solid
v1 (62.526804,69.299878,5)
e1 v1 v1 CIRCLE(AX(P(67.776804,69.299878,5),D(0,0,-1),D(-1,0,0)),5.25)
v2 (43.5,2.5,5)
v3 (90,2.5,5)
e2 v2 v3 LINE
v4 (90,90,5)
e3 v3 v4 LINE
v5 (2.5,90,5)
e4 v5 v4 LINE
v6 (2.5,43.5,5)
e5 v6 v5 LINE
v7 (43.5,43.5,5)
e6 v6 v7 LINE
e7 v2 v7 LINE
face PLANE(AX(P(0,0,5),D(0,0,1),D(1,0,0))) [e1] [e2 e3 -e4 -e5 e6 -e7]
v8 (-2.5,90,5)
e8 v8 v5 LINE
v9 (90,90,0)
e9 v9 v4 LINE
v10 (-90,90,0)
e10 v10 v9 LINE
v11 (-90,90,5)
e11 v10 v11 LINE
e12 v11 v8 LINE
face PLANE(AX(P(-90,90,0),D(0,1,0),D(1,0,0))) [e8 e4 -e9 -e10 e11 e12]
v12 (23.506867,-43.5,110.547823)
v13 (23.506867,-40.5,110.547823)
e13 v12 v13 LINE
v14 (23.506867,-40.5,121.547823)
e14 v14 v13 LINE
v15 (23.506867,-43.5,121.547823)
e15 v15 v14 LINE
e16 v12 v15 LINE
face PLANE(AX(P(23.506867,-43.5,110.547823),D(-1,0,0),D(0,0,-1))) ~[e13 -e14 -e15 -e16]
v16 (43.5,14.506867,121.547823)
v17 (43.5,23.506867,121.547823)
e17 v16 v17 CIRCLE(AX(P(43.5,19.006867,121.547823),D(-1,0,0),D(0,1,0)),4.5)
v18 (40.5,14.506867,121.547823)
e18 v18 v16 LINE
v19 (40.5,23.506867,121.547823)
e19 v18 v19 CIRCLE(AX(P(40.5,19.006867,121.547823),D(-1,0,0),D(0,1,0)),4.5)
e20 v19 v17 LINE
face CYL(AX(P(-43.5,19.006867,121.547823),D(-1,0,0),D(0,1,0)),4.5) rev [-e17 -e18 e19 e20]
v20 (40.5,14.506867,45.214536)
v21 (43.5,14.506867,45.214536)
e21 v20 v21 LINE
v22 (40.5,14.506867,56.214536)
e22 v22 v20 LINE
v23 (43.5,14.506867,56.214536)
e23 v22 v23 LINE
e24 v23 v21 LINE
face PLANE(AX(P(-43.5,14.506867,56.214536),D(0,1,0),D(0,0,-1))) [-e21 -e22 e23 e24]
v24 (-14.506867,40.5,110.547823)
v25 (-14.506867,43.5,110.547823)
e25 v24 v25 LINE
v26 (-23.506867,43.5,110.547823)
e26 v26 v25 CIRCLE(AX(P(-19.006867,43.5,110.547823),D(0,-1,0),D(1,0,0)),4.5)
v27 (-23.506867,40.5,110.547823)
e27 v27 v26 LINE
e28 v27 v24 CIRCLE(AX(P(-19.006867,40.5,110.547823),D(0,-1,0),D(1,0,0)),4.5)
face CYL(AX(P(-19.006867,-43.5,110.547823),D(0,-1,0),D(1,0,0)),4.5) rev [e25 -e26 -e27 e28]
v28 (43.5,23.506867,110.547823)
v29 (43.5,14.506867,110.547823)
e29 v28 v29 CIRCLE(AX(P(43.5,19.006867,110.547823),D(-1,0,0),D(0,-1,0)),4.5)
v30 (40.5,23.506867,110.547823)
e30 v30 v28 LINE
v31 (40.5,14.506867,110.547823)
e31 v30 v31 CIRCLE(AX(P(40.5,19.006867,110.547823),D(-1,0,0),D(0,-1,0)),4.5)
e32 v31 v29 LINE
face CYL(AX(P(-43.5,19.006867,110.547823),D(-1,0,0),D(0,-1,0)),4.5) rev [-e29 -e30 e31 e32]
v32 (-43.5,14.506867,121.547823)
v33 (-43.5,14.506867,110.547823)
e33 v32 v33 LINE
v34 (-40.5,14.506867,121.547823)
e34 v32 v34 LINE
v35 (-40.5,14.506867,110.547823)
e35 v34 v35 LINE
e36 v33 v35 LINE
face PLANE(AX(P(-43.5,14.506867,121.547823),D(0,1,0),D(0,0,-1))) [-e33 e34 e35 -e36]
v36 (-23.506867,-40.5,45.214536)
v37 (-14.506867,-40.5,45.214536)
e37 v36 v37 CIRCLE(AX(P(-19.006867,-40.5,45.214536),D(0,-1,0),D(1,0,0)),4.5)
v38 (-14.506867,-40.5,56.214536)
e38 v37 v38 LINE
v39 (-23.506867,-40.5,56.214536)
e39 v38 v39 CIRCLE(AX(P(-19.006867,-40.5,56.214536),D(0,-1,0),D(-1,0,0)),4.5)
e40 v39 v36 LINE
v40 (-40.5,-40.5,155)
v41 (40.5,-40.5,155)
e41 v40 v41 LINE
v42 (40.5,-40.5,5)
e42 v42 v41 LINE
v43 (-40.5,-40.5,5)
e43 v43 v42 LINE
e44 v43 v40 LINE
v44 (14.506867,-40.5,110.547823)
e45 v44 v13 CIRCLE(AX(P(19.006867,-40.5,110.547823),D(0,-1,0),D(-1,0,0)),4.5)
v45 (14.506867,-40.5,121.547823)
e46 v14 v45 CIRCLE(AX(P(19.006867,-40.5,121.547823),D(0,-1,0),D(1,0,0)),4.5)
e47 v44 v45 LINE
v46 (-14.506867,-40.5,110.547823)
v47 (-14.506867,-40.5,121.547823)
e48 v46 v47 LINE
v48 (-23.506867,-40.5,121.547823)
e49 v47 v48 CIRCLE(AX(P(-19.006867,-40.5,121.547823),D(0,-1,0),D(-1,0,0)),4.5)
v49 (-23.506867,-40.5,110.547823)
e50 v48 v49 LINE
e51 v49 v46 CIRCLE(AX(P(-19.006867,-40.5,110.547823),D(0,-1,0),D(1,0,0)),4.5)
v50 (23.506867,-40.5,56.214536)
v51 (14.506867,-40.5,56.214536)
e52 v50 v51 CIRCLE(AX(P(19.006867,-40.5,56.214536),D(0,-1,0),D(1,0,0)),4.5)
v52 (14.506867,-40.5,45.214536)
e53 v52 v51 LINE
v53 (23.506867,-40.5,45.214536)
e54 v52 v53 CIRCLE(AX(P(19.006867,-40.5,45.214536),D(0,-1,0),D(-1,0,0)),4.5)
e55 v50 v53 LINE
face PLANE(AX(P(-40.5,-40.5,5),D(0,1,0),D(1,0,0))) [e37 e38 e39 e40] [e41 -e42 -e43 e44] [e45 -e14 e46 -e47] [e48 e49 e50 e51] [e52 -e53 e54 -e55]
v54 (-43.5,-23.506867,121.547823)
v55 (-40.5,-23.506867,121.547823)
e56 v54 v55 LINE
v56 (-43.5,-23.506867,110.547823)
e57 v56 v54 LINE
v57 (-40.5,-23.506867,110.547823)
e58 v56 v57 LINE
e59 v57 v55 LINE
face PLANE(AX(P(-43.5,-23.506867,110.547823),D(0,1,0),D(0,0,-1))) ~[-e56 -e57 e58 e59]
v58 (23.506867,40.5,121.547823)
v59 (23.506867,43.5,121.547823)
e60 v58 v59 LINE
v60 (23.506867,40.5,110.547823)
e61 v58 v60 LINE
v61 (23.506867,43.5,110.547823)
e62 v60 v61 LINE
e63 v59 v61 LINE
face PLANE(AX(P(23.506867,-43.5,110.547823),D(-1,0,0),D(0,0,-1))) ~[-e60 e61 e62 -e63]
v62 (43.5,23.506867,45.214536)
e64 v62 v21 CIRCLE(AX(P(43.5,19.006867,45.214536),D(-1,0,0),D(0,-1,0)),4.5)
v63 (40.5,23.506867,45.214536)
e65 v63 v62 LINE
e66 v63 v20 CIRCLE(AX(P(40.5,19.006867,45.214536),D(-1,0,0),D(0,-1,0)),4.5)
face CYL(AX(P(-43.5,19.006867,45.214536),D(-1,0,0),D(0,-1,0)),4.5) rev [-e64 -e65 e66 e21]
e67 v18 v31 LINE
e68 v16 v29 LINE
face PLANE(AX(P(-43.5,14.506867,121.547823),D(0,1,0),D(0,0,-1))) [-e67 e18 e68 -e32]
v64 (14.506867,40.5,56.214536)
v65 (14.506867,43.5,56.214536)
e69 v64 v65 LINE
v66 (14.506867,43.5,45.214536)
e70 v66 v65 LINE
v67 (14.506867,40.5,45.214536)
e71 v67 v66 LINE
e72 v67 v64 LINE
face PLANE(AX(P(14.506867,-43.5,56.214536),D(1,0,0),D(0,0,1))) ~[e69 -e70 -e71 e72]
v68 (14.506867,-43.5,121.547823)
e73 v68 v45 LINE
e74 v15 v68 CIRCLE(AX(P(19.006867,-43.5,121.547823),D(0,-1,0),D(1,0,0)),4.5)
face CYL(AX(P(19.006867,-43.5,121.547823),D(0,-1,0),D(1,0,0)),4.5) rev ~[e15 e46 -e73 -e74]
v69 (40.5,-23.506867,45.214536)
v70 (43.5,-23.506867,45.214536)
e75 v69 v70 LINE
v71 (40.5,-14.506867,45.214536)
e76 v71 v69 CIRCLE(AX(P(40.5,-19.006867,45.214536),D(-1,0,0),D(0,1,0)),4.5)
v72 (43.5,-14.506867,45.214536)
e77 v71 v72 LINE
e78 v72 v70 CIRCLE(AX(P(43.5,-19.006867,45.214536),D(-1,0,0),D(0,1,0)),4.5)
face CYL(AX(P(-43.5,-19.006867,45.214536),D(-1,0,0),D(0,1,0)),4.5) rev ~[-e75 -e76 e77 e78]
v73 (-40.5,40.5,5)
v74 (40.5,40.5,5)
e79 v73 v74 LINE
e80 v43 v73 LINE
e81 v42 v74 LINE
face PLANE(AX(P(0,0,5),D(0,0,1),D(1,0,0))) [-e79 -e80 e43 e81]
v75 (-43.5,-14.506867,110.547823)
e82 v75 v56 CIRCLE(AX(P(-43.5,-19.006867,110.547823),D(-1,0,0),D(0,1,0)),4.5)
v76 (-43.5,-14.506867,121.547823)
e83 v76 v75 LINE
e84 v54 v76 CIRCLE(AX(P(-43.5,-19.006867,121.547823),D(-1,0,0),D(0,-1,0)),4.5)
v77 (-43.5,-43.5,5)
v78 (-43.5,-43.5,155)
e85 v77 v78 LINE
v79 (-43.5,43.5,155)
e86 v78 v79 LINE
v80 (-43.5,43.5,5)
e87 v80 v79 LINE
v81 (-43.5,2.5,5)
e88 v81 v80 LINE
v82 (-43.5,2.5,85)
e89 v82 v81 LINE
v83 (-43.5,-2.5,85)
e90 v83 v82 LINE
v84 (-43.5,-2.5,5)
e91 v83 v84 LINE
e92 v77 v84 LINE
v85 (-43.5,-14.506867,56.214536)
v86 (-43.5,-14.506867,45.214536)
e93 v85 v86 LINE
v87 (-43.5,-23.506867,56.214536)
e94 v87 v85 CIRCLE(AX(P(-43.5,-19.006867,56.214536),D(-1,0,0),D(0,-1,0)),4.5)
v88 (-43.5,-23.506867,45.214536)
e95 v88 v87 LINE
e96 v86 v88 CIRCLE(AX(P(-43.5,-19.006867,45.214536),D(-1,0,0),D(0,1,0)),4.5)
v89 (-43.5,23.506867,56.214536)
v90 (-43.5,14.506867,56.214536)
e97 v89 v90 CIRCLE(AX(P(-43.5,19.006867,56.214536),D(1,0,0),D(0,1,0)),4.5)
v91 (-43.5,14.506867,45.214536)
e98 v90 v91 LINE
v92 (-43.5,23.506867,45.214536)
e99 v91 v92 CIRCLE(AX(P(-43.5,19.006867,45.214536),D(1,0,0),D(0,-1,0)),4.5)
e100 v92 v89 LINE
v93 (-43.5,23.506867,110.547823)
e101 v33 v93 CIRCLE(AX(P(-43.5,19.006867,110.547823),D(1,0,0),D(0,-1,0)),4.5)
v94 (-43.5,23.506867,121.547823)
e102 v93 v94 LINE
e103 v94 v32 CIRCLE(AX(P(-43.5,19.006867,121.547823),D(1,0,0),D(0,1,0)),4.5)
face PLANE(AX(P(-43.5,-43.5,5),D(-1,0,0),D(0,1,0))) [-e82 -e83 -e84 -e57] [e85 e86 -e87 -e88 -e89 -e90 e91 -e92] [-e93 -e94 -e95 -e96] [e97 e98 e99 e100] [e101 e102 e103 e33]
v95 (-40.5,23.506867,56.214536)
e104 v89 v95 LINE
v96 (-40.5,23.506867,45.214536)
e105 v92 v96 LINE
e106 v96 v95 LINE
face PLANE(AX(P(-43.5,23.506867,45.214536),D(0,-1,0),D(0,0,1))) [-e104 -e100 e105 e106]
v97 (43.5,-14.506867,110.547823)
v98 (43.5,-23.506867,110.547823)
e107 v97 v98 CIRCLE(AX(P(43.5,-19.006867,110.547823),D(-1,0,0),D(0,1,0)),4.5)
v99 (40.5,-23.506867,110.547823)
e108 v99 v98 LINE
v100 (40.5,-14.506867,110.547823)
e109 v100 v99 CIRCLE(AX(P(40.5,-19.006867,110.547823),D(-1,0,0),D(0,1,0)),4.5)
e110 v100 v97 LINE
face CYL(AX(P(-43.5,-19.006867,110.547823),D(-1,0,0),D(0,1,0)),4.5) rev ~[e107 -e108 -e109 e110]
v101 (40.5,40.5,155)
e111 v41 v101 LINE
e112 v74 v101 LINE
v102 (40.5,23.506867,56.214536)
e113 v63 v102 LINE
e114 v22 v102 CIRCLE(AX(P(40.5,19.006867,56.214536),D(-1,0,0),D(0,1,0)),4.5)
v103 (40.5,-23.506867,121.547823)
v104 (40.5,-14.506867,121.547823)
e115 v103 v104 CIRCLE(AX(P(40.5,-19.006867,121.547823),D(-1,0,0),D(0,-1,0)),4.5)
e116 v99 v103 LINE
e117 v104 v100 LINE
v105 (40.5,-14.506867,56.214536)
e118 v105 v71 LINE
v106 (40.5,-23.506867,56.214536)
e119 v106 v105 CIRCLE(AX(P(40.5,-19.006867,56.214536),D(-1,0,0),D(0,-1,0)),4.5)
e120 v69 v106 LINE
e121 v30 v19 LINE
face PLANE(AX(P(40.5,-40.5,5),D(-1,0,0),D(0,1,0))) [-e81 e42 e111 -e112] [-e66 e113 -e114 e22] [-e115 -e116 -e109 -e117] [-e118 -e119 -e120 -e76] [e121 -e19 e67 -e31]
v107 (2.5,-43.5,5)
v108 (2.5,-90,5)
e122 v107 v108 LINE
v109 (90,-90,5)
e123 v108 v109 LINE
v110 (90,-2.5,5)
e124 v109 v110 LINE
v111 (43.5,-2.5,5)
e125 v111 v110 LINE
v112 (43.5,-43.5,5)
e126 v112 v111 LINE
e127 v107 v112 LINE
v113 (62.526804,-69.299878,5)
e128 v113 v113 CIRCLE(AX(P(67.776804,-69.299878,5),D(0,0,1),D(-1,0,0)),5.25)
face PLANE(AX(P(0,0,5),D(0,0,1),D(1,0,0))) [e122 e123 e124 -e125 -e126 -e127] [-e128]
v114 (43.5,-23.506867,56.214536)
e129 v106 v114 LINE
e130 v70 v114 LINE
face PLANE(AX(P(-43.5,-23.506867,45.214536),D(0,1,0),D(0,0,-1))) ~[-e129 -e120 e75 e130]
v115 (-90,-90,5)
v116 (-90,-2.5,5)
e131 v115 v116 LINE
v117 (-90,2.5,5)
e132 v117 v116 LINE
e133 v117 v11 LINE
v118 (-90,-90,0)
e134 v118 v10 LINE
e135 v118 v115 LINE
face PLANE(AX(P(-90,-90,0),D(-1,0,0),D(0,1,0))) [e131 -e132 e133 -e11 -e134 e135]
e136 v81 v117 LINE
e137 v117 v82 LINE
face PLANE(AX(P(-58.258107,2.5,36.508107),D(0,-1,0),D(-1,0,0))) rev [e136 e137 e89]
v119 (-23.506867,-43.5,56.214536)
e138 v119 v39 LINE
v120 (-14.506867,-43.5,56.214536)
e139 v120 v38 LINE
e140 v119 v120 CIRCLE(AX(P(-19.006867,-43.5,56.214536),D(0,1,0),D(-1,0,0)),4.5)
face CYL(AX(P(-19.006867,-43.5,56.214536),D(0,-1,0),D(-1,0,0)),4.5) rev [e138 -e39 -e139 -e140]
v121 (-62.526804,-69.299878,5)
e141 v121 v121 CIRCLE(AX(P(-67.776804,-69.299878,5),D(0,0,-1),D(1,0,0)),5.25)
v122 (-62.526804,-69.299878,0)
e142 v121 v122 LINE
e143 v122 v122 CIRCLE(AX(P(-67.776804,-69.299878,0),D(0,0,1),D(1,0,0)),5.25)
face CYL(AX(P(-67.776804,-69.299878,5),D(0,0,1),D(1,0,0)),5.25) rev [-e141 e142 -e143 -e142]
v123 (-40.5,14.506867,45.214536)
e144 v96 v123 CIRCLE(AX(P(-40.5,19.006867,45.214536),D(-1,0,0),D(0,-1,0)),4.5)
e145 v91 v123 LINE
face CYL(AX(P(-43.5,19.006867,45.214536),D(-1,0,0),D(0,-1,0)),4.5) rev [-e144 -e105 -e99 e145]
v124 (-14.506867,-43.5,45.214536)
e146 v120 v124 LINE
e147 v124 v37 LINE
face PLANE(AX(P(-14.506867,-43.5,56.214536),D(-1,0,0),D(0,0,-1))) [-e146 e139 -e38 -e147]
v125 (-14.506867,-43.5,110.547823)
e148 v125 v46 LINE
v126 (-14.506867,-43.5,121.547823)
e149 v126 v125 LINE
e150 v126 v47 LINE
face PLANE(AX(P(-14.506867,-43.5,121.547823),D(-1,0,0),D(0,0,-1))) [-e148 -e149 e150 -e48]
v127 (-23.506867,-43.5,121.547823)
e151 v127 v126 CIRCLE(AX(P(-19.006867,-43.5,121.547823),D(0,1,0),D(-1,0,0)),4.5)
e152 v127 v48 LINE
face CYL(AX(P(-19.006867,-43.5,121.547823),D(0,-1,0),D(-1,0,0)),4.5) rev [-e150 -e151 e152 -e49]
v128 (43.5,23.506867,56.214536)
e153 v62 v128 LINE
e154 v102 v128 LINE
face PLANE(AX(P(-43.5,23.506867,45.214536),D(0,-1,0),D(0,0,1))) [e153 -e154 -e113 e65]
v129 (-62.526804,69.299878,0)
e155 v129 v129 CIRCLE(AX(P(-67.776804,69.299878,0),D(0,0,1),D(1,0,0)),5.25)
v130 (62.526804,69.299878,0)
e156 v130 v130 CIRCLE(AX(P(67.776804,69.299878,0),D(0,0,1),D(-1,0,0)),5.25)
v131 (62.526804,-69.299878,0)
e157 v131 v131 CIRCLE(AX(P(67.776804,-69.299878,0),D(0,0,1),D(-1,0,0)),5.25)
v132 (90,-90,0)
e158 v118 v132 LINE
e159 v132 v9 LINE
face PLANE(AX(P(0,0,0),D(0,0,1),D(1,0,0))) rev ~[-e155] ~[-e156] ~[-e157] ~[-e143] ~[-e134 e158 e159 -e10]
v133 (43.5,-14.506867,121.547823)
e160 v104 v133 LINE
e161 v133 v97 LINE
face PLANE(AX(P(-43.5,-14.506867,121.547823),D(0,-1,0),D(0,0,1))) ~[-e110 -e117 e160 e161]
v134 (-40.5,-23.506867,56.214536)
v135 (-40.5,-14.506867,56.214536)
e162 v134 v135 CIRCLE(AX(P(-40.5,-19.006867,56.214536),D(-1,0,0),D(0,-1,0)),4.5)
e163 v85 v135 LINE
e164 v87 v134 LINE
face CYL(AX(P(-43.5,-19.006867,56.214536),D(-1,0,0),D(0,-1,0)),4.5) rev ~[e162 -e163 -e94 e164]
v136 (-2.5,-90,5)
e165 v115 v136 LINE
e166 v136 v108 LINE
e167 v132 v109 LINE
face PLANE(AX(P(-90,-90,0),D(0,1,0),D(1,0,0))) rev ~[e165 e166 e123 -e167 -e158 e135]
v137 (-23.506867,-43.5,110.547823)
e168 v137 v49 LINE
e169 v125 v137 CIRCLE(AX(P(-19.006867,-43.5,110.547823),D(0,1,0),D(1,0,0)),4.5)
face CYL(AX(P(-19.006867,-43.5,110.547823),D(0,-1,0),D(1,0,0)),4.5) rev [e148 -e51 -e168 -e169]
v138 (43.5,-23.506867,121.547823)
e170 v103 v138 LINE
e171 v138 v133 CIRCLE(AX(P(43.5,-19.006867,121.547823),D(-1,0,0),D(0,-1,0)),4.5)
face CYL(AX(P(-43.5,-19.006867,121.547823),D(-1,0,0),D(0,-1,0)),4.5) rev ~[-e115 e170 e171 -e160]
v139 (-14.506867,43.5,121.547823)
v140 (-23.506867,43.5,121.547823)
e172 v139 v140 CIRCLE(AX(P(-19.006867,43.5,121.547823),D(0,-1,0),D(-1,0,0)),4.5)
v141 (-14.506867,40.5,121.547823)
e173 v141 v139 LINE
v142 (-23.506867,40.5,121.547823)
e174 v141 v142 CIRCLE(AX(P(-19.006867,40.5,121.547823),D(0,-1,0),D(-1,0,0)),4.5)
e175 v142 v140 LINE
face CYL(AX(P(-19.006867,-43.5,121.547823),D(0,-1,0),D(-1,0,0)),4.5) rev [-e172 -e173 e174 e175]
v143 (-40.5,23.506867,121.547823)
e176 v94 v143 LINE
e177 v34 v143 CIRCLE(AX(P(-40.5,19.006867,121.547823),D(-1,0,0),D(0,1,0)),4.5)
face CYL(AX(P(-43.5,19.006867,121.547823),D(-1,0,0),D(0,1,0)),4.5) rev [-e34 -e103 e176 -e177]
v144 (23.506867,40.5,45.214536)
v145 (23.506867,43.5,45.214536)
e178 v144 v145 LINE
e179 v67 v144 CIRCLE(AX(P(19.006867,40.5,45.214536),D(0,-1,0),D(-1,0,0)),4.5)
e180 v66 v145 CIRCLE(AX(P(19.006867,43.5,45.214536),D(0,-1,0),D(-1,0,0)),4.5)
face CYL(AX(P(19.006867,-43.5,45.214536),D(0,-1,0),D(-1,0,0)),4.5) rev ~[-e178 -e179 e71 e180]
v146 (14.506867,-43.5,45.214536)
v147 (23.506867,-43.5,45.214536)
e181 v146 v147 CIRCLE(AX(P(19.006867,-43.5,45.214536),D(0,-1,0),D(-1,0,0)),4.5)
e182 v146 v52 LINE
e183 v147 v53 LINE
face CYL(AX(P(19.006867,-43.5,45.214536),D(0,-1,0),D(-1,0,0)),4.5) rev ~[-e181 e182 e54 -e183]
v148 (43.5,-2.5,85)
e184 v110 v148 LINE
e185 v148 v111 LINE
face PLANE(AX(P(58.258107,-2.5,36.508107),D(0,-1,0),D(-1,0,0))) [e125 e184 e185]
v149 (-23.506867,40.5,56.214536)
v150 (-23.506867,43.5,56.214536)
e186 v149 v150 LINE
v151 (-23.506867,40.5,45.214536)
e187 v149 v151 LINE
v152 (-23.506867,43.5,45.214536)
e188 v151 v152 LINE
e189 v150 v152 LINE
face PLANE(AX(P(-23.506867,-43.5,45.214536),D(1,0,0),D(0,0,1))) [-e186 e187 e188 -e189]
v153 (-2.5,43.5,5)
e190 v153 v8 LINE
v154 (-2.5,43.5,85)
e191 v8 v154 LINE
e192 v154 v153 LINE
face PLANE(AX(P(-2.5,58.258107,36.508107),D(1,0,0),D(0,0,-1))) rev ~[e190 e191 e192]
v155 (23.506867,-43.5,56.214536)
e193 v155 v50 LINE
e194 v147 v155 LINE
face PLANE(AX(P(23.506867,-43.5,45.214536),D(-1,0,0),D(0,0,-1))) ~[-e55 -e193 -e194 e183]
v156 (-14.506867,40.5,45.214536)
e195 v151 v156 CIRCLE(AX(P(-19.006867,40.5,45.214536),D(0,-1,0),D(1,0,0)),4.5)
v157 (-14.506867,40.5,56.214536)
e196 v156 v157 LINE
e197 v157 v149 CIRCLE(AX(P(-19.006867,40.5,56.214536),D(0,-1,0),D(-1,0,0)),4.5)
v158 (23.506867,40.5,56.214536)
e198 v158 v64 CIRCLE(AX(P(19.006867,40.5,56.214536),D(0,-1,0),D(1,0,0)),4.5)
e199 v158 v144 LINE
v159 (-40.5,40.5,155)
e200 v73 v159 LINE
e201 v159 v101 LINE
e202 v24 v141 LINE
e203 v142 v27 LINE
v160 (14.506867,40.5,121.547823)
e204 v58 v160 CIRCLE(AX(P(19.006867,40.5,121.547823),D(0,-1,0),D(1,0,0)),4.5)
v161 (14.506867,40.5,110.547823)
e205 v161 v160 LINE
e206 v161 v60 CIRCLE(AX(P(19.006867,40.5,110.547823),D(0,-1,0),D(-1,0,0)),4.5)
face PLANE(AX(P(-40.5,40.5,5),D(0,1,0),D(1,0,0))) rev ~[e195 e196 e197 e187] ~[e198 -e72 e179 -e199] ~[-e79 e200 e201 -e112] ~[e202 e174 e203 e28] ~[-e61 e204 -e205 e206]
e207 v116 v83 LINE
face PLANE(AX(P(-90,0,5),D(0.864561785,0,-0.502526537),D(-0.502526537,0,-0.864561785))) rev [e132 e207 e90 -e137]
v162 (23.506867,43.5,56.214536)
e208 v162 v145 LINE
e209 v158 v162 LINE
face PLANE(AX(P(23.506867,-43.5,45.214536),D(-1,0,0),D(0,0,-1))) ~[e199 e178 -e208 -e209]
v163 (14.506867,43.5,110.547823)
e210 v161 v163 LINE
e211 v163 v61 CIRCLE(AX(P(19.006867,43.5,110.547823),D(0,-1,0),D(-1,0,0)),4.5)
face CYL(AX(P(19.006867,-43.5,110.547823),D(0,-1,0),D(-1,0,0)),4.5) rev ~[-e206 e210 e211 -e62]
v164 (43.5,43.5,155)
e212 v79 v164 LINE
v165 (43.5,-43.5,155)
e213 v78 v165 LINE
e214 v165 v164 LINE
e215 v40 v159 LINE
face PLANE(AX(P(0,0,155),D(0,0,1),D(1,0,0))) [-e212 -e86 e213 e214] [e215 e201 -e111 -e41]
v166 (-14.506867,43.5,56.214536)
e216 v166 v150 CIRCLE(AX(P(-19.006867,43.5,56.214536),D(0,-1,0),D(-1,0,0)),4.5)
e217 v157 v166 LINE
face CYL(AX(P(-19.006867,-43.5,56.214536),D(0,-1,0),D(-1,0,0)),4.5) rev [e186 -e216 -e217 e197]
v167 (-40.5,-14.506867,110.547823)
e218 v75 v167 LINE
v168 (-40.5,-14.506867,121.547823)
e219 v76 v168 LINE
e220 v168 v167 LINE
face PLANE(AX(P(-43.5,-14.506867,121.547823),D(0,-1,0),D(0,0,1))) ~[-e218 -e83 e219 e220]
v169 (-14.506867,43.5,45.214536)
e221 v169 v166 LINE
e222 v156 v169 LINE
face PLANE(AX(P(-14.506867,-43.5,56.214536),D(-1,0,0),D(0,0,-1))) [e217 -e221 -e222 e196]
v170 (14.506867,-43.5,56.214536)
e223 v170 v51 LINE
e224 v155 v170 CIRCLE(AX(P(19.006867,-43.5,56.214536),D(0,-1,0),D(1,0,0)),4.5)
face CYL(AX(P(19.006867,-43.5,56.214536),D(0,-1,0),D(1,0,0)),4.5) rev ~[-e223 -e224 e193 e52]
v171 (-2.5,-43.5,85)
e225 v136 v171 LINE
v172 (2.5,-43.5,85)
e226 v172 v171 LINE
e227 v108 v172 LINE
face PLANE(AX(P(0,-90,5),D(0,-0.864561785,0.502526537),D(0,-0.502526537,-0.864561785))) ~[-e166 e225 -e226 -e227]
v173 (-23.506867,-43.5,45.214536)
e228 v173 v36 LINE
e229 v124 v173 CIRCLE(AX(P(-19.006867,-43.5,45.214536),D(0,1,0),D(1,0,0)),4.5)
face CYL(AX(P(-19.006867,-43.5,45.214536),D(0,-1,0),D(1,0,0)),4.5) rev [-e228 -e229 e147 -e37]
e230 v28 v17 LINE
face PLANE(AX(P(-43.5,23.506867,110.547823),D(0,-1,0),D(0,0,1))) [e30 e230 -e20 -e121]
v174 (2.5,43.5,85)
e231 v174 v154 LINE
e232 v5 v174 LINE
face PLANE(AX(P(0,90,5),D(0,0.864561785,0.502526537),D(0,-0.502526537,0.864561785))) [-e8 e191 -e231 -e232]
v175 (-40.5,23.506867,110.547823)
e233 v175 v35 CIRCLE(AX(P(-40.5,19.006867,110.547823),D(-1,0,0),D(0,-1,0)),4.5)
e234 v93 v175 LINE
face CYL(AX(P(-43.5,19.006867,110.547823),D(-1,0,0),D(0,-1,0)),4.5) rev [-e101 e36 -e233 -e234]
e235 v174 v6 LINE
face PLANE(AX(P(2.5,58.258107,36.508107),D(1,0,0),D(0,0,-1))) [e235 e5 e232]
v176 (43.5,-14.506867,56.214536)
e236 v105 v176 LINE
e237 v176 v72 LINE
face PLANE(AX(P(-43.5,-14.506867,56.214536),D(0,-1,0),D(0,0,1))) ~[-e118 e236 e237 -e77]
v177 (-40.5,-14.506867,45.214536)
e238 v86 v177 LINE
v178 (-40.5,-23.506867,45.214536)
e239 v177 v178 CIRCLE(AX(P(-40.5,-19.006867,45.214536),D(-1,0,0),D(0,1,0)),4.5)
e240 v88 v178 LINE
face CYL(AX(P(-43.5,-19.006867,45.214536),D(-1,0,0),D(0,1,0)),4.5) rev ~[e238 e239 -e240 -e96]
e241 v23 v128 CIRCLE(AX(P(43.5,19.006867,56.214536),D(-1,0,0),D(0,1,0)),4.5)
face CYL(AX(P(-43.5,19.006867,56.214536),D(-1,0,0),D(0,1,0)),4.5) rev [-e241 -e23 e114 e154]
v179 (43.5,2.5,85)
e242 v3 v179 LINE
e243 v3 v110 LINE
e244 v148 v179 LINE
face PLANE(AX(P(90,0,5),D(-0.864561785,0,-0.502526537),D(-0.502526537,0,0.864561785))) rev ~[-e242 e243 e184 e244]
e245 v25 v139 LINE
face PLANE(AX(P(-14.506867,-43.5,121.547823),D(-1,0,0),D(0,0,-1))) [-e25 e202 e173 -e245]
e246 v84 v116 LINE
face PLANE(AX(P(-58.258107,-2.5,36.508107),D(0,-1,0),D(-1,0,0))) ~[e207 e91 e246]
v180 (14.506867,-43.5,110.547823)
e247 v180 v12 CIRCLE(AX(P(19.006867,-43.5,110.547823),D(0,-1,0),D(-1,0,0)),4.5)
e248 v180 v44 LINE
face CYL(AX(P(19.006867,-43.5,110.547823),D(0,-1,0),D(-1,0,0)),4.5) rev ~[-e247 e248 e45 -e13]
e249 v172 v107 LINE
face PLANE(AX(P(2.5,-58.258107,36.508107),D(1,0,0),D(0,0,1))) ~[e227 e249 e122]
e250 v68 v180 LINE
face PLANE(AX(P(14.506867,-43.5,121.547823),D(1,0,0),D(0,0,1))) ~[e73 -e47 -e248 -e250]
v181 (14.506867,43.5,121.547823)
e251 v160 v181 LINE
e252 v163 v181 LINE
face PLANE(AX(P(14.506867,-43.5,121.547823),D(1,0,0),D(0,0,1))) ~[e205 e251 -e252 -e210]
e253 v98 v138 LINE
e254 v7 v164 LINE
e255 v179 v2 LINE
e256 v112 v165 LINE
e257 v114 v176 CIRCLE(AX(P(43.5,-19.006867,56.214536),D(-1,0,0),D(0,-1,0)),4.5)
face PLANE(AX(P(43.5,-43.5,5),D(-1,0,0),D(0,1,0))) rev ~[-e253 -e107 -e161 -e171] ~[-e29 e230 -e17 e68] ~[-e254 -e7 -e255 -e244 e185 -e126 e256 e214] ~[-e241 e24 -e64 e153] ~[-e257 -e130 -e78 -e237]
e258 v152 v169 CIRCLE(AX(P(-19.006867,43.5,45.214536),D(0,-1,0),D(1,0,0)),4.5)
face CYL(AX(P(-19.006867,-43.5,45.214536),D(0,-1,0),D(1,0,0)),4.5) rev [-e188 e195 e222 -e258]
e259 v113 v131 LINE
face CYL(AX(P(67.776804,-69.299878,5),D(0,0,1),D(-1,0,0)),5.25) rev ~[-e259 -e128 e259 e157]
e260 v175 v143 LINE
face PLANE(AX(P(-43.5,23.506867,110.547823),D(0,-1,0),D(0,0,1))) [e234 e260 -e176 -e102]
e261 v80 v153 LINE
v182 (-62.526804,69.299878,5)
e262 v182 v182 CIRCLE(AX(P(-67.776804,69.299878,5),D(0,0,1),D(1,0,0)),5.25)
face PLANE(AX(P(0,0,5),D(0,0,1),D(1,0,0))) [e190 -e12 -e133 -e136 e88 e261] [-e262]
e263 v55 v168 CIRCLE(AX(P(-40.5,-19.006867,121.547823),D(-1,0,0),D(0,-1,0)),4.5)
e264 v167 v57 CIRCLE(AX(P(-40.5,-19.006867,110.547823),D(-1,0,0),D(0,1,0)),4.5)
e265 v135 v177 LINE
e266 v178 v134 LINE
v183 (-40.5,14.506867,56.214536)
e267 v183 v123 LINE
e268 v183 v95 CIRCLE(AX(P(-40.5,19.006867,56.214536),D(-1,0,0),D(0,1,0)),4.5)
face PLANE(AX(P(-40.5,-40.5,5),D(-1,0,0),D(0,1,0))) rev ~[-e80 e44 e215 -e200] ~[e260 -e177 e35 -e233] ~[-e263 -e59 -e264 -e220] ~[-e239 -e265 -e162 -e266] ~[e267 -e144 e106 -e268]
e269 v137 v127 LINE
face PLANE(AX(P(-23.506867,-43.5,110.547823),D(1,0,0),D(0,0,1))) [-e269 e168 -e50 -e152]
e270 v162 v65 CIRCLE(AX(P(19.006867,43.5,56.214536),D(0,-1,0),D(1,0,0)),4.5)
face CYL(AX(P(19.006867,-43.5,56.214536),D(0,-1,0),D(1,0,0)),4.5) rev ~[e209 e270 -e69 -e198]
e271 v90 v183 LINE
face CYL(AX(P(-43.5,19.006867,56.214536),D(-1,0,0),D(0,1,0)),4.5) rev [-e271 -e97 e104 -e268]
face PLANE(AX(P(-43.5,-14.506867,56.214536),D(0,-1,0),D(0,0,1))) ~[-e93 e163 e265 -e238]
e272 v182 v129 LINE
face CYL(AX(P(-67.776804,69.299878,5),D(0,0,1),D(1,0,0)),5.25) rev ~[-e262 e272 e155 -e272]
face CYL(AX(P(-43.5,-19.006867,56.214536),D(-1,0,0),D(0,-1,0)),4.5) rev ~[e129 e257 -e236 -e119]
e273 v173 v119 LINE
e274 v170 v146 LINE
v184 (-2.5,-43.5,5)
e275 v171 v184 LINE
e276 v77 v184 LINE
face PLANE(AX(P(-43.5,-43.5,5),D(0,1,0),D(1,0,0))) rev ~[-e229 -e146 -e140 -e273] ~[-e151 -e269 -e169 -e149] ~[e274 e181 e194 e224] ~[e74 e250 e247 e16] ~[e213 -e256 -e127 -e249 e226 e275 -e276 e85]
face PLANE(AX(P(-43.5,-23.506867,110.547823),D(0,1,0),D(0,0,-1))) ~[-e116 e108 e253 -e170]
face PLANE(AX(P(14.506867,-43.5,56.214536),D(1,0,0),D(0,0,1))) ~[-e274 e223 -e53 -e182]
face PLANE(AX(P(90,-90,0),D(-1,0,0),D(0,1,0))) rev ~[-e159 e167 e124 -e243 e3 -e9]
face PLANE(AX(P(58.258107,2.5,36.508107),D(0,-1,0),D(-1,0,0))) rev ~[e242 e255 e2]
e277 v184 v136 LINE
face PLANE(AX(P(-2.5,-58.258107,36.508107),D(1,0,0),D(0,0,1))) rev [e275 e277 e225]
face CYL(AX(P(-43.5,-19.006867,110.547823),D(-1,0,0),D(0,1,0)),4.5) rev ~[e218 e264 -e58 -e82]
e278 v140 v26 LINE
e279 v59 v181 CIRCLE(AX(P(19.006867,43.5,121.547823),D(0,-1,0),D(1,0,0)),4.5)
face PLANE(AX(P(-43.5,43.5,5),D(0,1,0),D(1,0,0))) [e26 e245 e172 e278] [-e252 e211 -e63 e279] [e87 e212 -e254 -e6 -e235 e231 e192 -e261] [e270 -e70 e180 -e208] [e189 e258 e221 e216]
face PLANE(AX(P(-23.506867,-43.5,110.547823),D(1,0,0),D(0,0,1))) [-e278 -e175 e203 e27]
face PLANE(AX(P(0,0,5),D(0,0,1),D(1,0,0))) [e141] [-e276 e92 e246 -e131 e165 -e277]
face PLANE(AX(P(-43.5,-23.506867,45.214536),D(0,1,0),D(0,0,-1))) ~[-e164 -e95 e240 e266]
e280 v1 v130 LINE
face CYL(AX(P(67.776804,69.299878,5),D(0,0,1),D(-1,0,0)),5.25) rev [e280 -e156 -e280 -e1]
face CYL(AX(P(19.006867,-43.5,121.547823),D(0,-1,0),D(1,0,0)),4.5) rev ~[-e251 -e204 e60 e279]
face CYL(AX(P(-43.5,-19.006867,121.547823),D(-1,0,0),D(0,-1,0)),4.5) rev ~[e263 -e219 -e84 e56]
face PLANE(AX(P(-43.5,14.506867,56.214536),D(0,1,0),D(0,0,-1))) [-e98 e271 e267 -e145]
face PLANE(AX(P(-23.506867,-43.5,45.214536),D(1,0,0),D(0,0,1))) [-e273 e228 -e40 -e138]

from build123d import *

# Parameters (mm, degrees)
SKETCH_1_W               = 180
SKETCH_1_H               = 180
EXTRUDE_1_DEPTH          = 5
SKETCH_2_R               = 5.25
CUT_EXTRUDE_1_DEPTH      = 128.377392029
MIRROR_2_COPY_1_SKETCH_R = 5.25
MIRROR_2_COPY_1_DEPTH    = 128.377392029
SKETCH_3_W               = 87
SKETCH_3_H               = 87
SKETCH_3_W_2             = 81
SKETCH_3_H_2             = 81
EXTRUDE_2_DEPTH          = 150
EXTRUDE_3_DEPTH          = 2.5
EXTRUDE_4_DEPTH          = 2.5
CUT_EXTRUDE_2_DEPTH      = 224.488814038
MIRROR_6_COPY_1_DEPTH    = 224.488814038


with BuildPart() as part:
    # 草图1 → 凸台-拉伸1 (new body)
    with BuildSketch(Plane.XY):
        Rectangle(SKETCH_1_W, SKETCH_1_H)
    extrude(amount=EXTRUDE_1_DEPTH)

    # 草图2 → 切除-拉伸1 (cut, through all)
    with BuildSketch(Plane.XY.offset(5)):
        with Locations((-67.776804162, 69.299878413)):
            Circle(SKETCH_2_R)
    cut_extrude_1 = extrude(amount=-CUT_EXTRUDE_1_DEPTH, mode=Mode.SUBTRACT)

    # 镜向1: 切除-拉伸1 across plane
    add(cut_extrude_1.mirror(Plane.ZX), mode=Mode.SUBTRACT)

    # 镜向2: 切除-拉伸1 across plane
    add(cut_extrude_1.mirror(Plane(origin=(0, 0, 0), x_dir=(0, 0, 1), z_dir=(1, 0, 0))), mode=Mode.SUBTRACT)

    # 镜向2 copy 1 sketch → 镜向2 copy 1 (cut, through all)
    with BuildSketch(Plane(origin=(0, 0, 5), x_dir=(-1, 0, 0), z_dir=(0, 0, 1))):
        with Locations((-67.776804162, 69.299878413)):
            Circle(MIRROR_2_COPY_1_SKETCH_R)
    extrude(amount=-MIRROR_2_COPY_1_DEPTH, mode=Mode.SUBTRACT)

    # 草图3 → 凸台-拉伸2 (add)
    with BuildSketch(Plane.XY.offset(5)):
        Rectangle(SKETCH_3_W, SKETCH_3_H)
        Rectangle(SKETCH_3_W_2, SKETCH_3_H_2, mode=Mode.SUBTRACT)
    extrude(amount=EXTRUDE_2_DEPTH)

    # 草图4 → 凸台-拉伸3 (add, symmetric)
    with BuildSketch(Plane(origin=(0, 0, 0), x_dir=(1, 0, 0), z_dir=(0, 1, 0))):
        Polygon((43.5, -5), (90, -5), (43.5, -85), align=None)
    extrude_3 = extrude(amount=EXTRUDE_3_DEPTH, both=True)

    # 镜向3: 凸台-拉伸3 across plane
    add(extrude_3.mirror(Plane(origin=(0, 0, 0), x_dir=(0, 0, 1), z_dir=(1, 0, 0))))

    # 草图5 → 凸台-拉伸4 (add, symmetric)
    with BuildSketch(Plane(origin=(0, 0, 0), x_dir=(0, 0, -1), z_dir=(1, 0, 0))):
        Polygon((-5, 43.5), (-5, 90), (-85, 43.5), align=None)
    extrude_4 = extrude(amount=EXTRUDE_4_DEPTH, both=True)

    # 镜向4: 凸台-拉伸4 across plane
    add(extrude_4.mirror(Plane.ZX))

    # 草图6 → 切除-拉伸2 (cut, through all)
    with BuildSketch(Plane.XZ.offset(43.5)):
        with BuildLine():
            Line((-14.50686738, 121.547822852), (-14.50686738, 110.547822852))
            ThreePointArc((-14.50686738, 110.547822852), (-19.00686738, 106.047822852), (-23.50686738, 110.547822852))
            Line((-23.50686738, 110.547822852), (-23.50686738, 121.547822852))
            ThreePointArc((-23.50686738, 121.547822852), (-19.00686738, 126.047822852), (-14.50686738, 121.547822852))
        make_face()
        with BuildLine():
            Line((-14.50686738, 56.214536174), (-14.50686738, 45.214536174))
            ThreePointArc((-14.50686738, 45.214536174), (-19.00686738, 40.714536174), (-23.50686738, 45.214536174))
            Line((-23.50686738, 45.214536174), (-23.50686738, 56.214536174))
            ThreePointArc((-23.50686738, 56.214536174), (-19.00686738, 60.714536174), (-14.50686738, 56.214536174))
        make_face()
    cut_extrude_2 = extrude(amount=-CUT_EXTRUDE_2_DEPTH, mode=Mode.SUBTRACT)

    # 镜向5: 切除-拉伸2 across plane
    add(cut_extrude_2.mirror(Plane(origin=(0, 0, 0), x_dir=(0, 0, 1), z_dir=(1, 0, 0))), mode=Mode.SUBTRACT)

    # 镜向6: 切除-拉伸2 across plane
    add(cut_extrude_2.mirror(Plane(origin=(0, 0, 0), x_dir=(0, 0, 1), z_dir=(0.7071067811865483, -0.7071067811865468, 0))), mode=Mode.SUBTRACT)

    # 镜向6 copy 1 sketch → 镜向6 copy 1 (cut, through all)
    with BuildSketch(Plane(origin=(-43.5, 0, 0), x_dir=(0, -1, 0), z_dir=(-1, 0, 0))):
        with BuildLine():
            Line((-14.50686738, 121.547822852), (-14.50686738, 110.547822852))
            ThreePointArc((-14.50686738, 110.547822852), (-19.00686738, 106.047822852), (-23.50686738, 110.547822852))
            Line((-23.50686738, 110.547822852), (-23.50686738, 121.547822852))
            ThreePointArc((-23.50686738, 121.547822852), (-19.00686738, 126.047822852), (-14.50686738, 121.547822852))
        make_face()
        with BuildLine():
            Line((-14.50686738, 56.214536174), (-14.50686738, 45.214536174))
            ThreePointArc((-14.50686738, 45.214536174), (-19.00686738, 40.714536174), (-23.50686738, 45.214536174))
            Line((-23.50686738, 45.214536174), (-23.50686738, 56.214536174))
            ThreePointArc((-23.50686738, 56.214536174), (-19.00686738, 60.714536174), (-14.50686738, 56.214536174))
        make_face()
    extrude(amount=-MIRROR_6_COPY_1_DEPTH, mode=Mode.SUBTRACT)


solid = part.part
